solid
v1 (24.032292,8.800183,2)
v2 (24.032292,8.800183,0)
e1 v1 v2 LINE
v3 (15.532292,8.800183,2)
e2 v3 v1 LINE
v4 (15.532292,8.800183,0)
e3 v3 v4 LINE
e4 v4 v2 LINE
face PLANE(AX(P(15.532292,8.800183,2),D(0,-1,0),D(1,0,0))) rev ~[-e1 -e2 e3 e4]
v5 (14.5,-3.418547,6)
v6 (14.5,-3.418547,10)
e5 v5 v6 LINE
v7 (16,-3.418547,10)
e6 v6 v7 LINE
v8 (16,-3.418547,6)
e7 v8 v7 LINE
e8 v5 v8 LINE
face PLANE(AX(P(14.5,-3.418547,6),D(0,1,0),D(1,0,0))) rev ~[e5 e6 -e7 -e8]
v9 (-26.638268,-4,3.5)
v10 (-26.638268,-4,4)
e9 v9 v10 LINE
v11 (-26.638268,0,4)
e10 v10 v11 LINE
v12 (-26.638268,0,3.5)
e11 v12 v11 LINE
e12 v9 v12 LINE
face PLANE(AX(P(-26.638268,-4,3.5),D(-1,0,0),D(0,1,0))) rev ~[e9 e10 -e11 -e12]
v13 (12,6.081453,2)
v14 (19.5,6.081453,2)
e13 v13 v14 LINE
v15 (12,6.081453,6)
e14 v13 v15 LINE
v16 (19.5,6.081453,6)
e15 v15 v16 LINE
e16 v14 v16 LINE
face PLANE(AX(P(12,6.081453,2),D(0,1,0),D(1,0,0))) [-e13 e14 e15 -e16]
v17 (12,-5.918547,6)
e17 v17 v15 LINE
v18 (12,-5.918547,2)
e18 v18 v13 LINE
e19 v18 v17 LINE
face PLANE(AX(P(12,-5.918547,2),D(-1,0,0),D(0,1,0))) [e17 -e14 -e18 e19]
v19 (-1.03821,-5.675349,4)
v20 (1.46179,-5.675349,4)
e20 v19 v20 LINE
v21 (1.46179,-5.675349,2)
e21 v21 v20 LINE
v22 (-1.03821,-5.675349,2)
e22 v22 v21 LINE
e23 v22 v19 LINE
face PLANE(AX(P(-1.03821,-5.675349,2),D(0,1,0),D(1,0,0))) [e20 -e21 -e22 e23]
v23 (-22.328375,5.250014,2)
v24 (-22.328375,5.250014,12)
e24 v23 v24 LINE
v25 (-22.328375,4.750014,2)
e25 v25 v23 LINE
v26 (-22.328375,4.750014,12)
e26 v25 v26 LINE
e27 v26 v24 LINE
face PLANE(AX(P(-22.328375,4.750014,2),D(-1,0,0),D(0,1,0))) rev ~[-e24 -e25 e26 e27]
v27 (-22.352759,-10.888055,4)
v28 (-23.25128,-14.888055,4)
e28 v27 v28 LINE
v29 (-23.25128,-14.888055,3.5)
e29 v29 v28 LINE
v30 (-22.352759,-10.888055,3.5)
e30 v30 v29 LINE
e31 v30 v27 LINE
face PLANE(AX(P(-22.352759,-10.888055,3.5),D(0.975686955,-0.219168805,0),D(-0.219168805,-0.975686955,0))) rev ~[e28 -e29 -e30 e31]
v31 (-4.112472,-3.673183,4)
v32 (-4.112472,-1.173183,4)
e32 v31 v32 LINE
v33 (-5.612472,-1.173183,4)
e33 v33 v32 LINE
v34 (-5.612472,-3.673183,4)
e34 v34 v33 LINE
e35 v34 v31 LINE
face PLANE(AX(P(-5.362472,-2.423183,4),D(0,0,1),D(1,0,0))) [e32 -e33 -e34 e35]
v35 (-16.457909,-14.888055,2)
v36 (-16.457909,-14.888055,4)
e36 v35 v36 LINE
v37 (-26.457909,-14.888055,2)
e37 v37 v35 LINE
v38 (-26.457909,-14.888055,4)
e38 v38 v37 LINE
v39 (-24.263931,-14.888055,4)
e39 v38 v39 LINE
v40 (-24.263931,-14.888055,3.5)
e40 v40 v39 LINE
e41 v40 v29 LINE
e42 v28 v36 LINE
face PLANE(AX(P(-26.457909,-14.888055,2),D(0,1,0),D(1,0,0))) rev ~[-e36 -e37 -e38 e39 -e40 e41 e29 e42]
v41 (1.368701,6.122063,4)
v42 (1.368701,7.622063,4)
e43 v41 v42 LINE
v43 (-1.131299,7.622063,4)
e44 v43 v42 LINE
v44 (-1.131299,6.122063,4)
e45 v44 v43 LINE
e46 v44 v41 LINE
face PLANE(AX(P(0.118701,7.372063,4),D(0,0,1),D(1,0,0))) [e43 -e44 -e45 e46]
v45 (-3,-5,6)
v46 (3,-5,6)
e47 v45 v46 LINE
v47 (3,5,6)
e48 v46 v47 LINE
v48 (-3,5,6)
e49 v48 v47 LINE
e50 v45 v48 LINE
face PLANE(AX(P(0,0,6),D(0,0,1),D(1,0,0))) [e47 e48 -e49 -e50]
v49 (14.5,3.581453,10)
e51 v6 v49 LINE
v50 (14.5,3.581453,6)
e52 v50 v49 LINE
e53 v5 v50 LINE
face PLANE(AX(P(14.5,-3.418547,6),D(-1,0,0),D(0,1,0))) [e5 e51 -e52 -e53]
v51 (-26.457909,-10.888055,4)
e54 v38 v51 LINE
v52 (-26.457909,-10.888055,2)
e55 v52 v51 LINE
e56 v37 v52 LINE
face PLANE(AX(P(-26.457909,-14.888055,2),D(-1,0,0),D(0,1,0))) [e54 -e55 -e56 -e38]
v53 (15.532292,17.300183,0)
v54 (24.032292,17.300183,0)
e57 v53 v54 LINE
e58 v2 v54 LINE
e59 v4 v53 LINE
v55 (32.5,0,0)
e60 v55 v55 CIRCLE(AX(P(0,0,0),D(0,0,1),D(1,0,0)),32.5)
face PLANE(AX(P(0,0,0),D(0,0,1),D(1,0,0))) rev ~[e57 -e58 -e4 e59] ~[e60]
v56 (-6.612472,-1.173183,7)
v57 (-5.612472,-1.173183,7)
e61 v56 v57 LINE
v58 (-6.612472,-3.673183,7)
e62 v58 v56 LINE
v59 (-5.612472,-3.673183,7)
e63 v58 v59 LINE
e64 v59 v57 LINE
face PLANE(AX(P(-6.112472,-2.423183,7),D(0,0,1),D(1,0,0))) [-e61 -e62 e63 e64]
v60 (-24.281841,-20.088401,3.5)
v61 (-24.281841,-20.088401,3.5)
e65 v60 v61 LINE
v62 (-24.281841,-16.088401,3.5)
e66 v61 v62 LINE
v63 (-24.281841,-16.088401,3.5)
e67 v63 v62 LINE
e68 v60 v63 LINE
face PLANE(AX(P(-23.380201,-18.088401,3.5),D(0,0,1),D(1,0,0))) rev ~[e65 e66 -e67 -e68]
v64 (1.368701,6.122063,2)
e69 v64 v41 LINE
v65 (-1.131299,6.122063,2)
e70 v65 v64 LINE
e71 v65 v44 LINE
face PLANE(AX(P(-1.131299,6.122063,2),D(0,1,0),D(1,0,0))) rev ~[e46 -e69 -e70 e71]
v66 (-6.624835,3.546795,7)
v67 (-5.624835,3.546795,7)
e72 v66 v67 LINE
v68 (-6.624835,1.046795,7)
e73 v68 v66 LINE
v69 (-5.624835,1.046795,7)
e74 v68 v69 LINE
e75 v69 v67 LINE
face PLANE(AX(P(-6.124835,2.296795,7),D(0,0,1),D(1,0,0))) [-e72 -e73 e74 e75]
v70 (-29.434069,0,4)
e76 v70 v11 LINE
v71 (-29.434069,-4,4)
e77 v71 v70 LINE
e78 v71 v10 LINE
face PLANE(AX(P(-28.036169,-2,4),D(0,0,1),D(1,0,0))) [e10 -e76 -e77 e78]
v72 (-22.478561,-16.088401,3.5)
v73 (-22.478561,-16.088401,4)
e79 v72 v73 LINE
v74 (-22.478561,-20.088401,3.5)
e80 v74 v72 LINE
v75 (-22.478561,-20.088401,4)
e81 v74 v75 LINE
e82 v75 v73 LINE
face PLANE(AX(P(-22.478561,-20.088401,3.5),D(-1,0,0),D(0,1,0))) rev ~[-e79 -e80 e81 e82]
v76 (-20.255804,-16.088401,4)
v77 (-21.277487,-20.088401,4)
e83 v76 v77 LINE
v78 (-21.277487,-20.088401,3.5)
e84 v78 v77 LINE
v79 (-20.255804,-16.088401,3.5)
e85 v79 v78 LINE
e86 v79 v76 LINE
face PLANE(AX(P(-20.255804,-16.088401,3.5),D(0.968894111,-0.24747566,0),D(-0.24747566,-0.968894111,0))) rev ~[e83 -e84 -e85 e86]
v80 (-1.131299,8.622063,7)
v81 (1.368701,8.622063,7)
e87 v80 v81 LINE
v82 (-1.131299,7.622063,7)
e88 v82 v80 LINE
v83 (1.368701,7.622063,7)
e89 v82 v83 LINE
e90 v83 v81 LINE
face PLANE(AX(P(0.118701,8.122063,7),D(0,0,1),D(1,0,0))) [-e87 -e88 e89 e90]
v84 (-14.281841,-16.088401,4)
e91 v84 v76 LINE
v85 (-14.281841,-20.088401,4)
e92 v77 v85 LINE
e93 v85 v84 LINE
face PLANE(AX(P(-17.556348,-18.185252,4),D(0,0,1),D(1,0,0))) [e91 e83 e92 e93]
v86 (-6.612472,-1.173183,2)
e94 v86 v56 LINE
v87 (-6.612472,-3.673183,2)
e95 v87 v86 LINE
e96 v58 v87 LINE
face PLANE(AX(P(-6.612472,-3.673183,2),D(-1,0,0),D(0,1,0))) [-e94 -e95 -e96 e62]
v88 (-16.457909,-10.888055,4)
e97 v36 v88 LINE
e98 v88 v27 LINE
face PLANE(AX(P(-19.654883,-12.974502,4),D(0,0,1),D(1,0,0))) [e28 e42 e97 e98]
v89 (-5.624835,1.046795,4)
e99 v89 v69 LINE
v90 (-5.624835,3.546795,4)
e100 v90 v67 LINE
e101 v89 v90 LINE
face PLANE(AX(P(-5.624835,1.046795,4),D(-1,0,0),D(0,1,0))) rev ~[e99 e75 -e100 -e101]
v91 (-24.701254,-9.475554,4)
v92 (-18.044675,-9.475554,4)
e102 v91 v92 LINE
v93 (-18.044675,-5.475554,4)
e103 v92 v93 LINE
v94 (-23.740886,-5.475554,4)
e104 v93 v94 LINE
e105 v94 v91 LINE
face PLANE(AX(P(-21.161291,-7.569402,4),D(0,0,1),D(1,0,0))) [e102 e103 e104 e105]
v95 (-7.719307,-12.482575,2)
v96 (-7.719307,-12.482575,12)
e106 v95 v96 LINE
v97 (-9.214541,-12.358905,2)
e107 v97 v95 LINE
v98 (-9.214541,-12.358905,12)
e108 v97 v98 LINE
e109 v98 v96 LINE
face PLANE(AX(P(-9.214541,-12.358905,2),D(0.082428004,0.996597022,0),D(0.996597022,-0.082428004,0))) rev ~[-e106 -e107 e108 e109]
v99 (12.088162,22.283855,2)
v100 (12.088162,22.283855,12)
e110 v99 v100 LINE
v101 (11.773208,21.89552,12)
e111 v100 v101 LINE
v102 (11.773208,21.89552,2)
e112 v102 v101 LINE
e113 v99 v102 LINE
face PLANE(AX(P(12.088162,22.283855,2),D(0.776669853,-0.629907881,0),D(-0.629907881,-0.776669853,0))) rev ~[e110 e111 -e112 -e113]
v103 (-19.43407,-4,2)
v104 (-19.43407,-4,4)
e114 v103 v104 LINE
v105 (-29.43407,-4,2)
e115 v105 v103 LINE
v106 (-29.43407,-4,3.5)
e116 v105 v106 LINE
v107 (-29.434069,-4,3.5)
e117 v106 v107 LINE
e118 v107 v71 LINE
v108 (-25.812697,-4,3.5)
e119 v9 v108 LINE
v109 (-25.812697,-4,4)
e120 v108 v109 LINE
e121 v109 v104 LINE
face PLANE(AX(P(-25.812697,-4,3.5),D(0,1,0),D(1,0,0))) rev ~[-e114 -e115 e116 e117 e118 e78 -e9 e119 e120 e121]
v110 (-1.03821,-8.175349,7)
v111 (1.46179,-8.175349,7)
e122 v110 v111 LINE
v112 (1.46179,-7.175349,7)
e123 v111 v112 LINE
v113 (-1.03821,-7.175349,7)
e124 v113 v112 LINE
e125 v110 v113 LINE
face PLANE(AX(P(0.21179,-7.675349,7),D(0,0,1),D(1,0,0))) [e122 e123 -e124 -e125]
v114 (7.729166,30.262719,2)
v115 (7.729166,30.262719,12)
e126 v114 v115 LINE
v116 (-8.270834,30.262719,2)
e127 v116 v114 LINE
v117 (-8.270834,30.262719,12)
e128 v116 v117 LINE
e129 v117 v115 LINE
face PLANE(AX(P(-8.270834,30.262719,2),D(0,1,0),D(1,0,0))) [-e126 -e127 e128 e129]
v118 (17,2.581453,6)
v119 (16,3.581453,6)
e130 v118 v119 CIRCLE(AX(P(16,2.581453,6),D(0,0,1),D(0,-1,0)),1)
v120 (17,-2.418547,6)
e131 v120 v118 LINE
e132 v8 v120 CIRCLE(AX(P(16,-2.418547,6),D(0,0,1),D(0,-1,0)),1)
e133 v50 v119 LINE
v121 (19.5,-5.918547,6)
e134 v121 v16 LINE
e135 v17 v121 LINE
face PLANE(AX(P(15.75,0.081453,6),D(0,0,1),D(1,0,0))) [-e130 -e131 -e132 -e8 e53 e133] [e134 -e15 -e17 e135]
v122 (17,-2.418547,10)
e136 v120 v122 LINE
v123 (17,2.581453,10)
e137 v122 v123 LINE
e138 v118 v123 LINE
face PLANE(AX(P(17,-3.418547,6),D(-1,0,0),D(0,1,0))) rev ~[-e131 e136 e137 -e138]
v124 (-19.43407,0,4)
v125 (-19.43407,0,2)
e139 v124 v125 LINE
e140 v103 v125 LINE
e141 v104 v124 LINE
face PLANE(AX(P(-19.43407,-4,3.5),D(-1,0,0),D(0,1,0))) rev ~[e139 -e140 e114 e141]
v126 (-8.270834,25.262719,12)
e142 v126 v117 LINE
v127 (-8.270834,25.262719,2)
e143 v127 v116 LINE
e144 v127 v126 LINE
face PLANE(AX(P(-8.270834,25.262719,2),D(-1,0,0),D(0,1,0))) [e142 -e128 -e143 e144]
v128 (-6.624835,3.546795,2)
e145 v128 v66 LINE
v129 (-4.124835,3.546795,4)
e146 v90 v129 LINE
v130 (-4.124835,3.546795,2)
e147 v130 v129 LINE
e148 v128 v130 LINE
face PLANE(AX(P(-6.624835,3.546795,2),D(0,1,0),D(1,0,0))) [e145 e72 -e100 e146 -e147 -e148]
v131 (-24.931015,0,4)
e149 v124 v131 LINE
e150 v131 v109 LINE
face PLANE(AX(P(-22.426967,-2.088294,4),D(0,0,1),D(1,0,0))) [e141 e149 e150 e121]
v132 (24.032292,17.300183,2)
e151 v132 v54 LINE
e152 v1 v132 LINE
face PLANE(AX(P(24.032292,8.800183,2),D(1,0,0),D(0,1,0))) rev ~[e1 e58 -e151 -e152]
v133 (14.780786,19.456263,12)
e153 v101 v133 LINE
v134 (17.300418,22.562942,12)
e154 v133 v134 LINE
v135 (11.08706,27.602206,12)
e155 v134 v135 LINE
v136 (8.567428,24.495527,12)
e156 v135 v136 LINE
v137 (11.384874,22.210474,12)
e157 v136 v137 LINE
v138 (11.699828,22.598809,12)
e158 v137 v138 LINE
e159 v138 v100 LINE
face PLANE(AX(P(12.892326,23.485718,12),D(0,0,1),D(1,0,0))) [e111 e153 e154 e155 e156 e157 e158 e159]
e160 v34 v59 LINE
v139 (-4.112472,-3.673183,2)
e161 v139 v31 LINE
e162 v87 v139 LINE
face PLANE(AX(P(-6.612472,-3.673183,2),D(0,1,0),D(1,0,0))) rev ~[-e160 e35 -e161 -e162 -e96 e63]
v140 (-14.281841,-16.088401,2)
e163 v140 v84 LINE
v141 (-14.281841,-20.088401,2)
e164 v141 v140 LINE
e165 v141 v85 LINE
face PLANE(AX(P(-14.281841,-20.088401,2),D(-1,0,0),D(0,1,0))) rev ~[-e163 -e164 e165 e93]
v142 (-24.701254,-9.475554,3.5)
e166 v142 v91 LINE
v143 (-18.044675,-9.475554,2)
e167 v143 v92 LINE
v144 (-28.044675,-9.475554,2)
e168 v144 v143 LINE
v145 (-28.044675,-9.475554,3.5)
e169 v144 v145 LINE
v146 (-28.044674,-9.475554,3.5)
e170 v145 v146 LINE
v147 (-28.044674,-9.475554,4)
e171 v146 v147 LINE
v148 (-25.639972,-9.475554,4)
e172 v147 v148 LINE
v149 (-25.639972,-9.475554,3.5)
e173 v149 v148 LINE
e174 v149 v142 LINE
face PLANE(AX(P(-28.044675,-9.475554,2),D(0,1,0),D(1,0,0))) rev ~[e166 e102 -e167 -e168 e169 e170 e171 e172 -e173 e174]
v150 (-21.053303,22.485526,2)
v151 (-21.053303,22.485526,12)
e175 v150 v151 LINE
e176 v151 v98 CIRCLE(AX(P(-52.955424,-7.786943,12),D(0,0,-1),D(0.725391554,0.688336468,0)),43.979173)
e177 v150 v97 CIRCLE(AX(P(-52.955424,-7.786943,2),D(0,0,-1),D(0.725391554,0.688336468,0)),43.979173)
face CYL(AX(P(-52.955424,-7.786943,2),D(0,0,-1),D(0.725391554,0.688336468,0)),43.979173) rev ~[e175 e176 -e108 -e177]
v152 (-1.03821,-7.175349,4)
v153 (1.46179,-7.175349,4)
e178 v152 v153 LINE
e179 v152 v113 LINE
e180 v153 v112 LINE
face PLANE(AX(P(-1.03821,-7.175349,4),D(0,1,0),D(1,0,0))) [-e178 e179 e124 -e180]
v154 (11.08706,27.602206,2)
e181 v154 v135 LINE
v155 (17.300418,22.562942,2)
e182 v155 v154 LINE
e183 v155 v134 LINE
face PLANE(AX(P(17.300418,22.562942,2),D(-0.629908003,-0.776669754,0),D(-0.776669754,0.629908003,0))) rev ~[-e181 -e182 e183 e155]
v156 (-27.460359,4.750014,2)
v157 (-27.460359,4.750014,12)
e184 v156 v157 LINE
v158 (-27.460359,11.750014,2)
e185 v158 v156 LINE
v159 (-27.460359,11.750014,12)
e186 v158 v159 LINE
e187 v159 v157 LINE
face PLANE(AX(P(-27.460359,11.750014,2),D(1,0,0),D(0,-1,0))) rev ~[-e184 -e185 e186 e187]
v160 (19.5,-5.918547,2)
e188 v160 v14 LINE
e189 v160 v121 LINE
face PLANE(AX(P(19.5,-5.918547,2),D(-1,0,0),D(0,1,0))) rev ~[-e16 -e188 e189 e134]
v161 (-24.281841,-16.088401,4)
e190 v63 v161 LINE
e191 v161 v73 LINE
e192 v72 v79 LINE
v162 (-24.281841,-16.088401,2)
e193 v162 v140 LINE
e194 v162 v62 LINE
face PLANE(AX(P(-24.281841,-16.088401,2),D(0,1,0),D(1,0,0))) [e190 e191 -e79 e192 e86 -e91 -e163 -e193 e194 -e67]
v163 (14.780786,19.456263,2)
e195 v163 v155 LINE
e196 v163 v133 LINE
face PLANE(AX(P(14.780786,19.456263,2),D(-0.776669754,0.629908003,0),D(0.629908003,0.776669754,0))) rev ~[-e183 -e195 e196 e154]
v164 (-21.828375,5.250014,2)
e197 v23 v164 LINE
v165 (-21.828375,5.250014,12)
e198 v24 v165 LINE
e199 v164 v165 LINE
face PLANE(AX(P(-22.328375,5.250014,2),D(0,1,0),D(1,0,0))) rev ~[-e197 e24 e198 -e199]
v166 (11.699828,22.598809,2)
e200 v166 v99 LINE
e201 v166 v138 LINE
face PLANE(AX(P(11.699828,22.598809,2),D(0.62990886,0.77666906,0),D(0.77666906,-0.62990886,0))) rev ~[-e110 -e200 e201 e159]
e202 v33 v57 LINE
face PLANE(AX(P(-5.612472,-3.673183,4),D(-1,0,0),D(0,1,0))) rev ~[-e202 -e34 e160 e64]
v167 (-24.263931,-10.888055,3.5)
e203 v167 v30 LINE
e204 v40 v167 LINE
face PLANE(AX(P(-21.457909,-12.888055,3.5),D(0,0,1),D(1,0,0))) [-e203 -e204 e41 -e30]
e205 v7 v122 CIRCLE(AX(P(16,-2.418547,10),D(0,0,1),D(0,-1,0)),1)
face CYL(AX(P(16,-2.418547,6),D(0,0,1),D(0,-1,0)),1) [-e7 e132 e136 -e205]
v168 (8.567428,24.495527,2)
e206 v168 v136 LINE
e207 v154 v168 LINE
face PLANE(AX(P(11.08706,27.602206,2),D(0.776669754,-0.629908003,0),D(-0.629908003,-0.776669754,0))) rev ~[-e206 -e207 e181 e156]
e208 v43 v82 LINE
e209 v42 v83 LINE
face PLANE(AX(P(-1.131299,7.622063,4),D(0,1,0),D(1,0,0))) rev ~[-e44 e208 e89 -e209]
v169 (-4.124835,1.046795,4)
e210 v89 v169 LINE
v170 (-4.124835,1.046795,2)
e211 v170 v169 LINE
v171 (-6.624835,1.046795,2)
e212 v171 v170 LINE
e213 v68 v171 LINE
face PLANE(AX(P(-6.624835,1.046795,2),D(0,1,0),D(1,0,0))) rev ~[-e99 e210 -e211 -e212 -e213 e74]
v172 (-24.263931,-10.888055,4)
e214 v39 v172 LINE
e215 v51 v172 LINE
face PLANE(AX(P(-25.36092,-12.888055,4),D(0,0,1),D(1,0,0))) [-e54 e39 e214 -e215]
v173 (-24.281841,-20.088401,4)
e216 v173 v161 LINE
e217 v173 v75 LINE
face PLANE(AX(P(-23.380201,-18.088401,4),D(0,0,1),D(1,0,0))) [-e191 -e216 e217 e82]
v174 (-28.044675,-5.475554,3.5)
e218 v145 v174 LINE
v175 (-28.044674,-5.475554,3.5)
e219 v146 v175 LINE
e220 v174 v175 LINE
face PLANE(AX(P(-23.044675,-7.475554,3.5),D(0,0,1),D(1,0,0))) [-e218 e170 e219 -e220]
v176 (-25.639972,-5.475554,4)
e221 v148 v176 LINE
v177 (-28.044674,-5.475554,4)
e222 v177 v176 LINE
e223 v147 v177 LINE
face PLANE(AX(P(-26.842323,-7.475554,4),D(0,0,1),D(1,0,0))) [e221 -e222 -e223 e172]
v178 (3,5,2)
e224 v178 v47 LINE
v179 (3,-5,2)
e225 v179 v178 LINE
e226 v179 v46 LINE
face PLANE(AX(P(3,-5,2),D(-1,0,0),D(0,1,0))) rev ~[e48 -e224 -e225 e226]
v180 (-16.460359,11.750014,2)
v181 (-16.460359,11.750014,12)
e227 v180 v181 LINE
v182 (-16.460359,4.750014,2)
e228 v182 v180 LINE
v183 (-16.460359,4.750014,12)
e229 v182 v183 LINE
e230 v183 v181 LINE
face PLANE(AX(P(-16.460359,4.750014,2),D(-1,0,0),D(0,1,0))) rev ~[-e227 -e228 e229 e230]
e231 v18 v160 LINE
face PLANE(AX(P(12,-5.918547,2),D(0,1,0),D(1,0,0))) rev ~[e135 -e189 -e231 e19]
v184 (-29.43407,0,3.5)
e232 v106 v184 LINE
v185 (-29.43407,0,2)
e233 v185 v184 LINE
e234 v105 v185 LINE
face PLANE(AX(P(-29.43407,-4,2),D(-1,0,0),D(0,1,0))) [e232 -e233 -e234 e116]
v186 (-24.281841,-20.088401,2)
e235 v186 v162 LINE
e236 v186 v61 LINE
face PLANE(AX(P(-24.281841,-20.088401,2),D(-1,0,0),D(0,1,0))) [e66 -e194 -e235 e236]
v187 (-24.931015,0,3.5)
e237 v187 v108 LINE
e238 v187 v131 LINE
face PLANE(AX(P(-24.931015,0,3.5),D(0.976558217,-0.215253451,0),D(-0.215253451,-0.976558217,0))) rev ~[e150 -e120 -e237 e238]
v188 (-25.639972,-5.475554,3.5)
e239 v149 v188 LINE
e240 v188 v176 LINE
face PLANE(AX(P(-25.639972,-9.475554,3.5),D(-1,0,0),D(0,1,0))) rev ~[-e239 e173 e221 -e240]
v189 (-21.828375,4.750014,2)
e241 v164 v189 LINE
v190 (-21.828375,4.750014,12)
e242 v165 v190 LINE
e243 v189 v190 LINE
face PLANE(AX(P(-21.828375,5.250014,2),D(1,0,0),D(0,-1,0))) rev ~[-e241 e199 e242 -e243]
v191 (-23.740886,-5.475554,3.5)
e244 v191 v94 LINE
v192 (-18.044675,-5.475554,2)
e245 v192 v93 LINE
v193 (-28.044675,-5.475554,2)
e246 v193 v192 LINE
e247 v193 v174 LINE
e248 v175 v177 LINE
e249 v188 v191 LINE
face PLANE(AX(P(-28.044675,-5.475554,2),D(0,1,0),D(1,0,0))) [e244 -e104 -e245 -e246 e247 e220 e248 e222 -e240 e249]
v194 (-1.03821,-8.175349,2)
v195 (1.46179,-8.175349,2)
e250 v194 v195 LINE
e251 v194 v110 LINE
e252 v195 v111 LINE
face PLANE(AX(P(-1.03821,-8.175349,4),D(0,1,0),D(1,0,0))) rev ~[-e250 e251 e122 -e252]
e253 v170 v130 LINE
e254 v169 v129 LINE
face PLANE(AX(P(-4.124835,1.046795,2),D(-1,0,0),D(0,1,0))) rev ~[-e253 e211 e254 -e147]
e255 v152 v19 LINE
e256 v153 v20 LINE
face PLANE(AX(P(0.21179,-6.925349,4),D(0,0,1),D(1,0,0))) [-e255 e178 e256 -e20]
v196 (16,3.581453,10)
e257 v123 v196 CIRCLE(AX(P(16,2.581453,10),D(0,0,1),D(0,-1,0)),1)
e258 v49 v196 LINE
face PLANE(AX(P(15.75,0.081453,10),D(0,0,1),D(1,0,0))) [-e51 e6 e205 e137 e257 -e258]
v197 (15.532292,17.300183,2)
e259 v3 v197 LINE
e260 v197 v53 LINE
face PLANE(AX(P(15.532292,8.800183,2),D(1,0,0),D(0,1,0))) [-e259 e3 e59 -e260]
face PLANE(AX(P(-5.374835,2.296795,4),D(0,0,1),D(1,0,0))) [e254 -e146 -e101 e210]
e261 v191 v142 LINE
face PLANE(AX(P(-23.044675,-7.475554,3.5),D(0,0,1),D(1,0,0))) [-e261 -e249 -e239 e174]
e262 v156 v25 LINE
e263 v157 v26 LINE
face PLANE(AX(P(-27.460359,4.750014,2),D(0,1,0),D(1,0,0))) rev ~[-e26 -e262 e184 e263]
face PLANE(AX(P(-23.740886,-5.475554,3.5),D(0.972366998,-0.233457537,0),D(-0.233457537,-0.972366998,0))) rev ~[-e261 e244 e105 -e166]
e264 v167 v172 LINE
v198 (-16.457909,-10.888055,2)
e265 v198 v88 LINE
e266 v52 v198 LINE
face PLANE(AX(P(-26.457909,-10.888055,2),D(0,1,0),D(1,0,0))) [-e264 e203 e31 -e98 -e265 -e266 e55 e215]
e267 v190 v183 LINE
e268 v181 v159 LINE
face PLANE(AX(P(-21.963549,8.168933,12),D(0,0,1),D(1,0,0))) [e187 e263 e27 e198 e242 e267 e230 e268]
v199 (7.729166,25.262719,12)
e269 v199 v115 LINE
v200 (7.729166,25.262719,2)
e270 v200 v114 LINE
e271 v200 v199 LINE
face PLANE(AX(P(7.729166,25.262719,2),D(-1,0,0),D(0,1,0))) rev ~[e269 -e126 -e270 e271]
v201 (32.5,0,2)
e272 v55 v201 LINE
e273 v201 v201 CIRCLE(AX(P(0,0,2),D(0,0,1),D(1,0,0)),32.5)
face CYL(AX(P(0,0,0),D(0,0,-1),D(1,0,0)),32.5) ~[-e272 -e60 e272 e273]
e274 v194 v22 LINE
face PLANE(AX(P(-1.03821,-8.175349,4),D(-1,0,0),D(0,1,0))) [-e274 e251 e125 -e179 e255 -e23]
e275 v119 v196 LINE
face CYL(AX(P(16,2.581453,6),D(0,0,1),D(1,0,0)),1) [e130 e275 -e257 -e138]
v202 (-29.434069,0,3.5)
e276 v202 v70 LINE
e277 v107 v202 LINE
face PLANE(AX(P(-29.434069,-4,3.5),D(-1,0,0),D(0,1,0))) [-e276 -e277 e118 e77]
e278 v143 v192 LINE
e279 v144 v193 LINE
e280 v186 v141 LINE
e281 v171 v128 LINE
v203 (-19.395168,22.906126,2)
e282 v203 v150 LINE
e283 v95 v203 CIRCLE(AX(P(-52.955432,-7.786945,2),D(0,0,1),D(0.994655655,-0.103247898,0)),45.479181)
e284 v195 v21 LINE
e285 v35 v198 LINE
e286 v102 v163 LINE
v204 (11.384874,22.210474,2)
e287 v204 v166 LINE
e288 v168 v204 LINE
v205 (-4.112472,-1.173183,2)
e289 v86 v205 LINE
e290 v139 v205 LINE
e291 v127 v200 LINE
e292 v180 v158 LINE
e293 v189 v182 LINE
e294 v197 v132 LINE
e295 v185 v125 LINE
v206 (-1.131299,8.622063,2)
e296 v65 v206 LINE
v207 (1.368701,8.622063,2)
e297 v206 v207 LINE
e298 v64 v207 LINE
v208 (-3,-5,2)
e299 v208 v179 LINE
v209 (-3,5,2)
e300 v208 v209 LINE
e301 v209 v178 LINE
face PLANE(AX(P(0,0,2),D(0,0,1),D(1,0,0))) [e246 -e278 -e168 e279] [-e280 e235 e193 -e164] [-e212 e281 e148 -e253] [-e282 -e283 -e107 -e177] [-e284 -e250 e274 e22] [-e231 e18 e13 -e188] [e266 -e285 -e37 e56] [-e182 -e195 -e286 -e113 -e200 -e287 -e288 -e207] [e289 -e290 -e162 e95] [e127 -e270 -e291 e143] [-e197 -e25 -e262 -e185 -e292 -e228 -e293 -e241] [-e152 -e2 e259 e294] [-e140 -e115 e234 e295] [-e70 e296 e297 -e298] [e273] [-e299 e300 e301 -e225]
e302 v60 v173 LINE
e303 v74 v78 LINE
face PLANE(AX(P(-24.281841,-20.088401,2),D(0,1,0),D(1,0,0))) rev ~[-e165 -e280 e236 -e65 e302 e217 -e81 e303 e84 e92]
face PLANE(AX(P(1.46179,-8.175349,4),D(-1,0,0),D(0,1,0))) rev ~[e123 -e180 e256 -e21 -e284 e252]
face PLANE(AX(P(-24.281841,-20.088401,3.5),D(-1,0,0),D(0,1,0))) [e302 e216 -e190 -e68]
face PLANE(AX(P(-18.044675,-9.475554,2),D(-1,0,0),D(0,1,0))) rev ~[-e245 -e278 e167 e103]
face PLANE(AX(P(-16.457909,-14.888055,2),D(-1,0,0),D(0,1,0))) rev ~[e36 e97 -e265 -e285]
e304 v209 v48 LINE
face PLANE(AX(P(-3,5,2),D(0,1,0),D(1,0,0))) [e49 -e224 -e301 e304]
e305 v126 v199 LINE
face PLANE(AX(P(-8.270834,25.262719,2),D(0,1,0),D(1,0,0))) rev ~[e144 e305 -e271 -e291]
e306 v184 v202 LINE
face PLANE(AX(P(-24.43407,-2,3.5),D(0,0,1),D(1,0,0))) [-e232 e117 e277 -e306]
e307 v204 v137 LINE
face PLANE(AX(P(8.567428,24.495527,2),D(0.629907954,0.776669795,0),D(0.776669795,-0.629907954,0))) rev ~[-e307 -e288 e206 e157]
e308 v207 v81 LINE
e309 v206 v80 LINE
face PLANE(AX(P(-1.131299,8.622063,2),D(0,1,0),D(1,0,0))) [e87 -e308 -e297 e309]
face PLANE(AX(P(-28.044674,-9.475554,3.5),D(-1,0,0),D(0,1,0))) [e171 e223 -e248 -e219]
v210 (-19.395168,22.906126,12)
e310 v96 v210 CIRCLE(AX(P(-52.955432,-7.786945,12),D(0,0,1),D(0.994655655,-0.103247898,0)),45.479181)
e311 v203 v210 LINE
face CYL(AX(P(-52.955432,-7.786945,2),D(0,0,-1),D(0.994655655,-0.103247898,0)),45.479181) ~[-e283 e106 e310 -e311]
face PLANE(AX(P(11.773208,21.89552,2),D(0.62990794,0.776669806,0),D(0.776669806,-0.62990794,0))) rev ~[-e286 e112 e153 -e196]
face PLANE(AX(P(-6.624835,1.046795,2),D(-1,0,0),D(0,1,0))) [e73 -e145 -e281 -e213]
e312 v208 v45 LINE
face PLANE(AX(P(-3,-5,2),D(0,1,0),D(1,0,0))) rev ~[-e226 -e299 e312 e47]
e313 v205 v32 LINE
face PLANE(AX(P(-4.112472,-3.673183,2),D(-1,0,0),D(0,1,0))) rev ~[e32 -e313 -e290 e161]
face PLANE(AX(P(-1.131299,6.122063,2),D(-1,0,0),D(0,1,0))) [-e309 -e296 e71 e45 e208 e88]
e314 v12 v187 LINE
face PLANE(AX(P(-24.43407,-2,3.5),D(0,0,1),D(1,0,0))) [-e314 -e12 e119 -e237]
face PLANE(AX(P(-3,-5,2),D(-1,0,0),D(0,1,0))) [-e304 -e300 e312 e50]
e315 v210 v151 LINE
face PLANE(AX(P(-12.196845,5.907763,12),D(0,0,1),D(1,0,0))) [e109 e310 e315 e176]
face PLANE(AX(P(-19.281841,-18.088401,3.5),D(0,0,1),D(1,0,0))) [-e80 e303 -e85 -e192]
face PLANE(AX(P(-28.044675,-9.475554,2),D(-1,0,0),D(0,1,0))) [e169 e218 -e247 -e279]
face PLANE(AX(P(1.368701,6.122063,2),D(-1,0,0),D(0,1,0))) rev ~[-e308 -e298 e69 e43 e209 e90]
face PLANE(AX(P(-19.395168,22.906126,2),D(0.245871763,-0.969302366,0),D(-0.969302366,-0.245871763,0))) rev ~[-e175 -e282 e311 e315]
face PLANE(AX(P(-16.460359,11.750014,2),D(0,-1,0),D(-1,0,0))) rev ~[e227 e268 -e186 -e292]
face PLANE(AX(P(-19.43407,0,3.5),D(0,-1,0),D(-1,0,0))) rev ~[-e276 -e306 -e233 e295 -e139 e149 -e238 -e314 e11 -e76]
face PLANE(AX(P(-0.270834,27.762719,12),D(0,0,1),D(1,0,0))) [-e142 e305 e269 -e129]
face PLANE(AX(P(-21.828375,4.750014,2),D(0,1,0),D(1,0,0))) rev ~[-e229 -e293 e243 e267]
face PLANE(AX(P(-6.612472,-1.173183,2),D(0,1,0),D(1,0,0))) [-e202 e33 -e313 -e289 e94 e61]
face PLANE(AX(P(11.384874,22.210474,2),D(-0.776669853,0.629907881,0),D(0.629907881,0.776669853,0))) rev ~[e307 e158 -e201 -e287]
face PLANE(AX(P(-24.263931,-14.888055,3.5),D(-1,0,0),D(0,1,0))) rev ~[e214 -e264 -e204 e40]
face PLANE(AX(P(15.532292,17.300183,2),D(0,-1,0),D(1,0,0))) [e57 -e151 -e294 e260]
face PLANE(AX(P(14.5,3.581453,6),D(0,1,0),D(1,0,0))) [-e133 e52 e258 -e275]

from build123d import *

# Parameters (mm, degrees)
F0_R      = 32.5
F1_DEPTH  = 2
F2_W      = 16
F2_H      = 5
F3_DEPTH  = 10
F4_W      = 6
F4_H      = 10
F4_W_2    = 7.5
F4_H_2    = 12
F5_DEPTH  = 4
F6_W      = 2.5
F6_H      = 7
F7_DEPTH  = 4
F8_R      = 1
F9_W      = 2.5
F9_H      = 2.5
F10_DEPTH = 2
F11_W     = 2.5
F11_H     = 1
F11_W_2   = 1
F11_H_2   = 2.5
F12_DEPTH = 3
F13_W     = 8.5
F13_H     = 8.5
F14_DEPTH = 25
F15_W     = 10
F15_H     = 4
F16_DEPTH = 1.5
F17_W     = 2.795801
F17_H     = 4
F17_W_2   = 2.404703
F17_W_3   = 2.193978
F17_W_4   = 1.803281
F18_DEPTH = 0.5


with BuildPart() as f1:
    # F0 (on Top) → F1 (new body)
    with BuildSketch(Plane.XY):
        Circle(F0_R)
    extrude(amount=F1_DEPTH)

    # F2 (on face) → F3 (join)
    with BuildSketch(Plane.XY.offset(2)):
        with Locations((-0.270834, 27.762719)):
            Rectangle(F2_W, F2_H)
        Polygon((17.300418, 22.562942), (11.08706, 27.602206), (8.567428, 24.495527), (11.384874, 22.210474), (11.699828, 22.598809), (12.088162, 22.283855), (11.773208, 21.89552), (14.780786, 19.456263), align=None)
        Polygon((-16.460359, 11.750014), (-27.460359, 11.750014), (-27.460359, 4.750014), (-22.328375, 4.750014), (-22.328375, 5.250014), (-21.828375, 5.250014), (-21.828375, 4.750014), (-16.460359, 4.750014), align=None)
        with BuildLine():
            Line((-9.214541, -12.358905), (-7.719307, -12.482575))
            ThreePointArc((-7.719307, -12.482575), (-9.766223, 6.462552), (-19.395168, 22.906126))
            Line((-19.395168, 22.906126), (-21.053303, 22.485526))
            ThreePointArc((-21.053303, 22.485526), (-11.314103, 6.361134), (-9.214541, -12.358905))
        make_face()
    extrude(amount=F3_DEPTH)

    # F4 (on face) → F5 (join)
    with BuildSketch(Plane.XY.offset(2)):
        Rectangle(F4_W, F4_H)
        with Locations((15.75, 0.081453)):
            Rectangle(F4_W_2, F4_H_2)
    extrude(amount=F5_DEPTH)

    # F6 (on face) → F7 (join)
    with BuildSketch(Plane.XY.offset(6)):
        with Locations((15.75, 0.081453)):
            Rectangle(F6_W, F6_H)
    extrude(amount=F7_DEPTH)

    # F8
    f8_edges = [f1.edges().sort_by_distance(p)[0] for p in [
        (17, -3.418547, 8),
        (17, 3.581453, 8),
    ]]
    fillet(f8_edges, radius=F8_R)

    # F9 (on face) → F10 (join)
    with BuildSketch(Plane.XY.offset(2)):
        with Locations((-5.362472, -2.423183)):
            Rectangle(F9_W, F9_H)
        with Locations((-5.374835, 2.296795)):
            Rectangle(F9_W, F9_H)
        with Locations((0.118701, 7.372063)):
            Rectangle(F9_W, F9_H)
        with Locations((0.21179, -6.925349)):
            Rectangle(F9_W, F9_H)
    extrude(amount=F10_DEPTH)

    # F11 (on face) → F12 (join)
    with BuildSketch(Plane.XY.offset(4)):
        with Locations((0.21179, -7.675349)):
            Rectangle(F11_W, F11_H)
        with Locations((-6.124835, 2.296795)):
            Rectangle(F11_W_2, F11_H_2)
        with Locations((-6.112472, -2.423183)):
            Rectangle(F11_W_2, F11_H_2)
        with Locations((0.118701, 8.122063)):
            Rectangle(F11_W, F11_H)
    extrude(amount=F12_DEPTH)

    # F13 (on face) → F14 (cut)
    with BuildSketch(Plane.XY.offset(2)):
        with Locations((19.782292, 13.050183)):
            Rectangle(F13_W, F13_H)
    extrude(amount=-F14_DEPTH, mode=Mode.SUBTRACT)

    # F15 (on face) → F16 (join)
    with BuildSketch(Plane.XY.offset(2)):
        with Locations((-24.43407, -2)):
            Rectangle(F15_W, F15_H)
        with Locations((-23.044675, -7.475554)):
            Rectangle(F15_W, F15_H)
        with Locations((-21.457909, -12.888055)):
            Rectangle(F15_W, F15_H)
        with Locations((-19.281841, -18.088401)):
            Rectangle(F15_W, F15_H)
    extrude(amount=F16_DEPTH)

    # F17 (on face) → F18 (join)
    with BuildSketch(Plane.XY.offset(3.5)):
        with Locations((-28.036169, -2)):
            Rectangle(F17_W, F17_H)
        Polygon((-24.931015, 0), (-25.812697, -4), (-19.43407, -4), (-19.43407, 0), align=None)
        with Locations((-26.842323, -7.475554)):
            Rectangle(F17_W_2, F17_H)
        Polygon((-23.740886, -5.475554), (-24.701254, -9.475554), (-18.044675, -9.475554), (-18.044675, -5.475554), align=None)
        with Locations((-25.36092, -12.888055)):
            Rectangle(F17_W_3, F17_H)
        Polygon((-22.352759, -10.888055), (-23.25128, -14.888055), (-16.457909, -14.888055), (-16.457909, -10.888055), align=None)
        with Locations((-23.380201, -18.088401)):
            Rectangle(F17_W_4, F17_H)
        Polygon((-14.281841, -16.088401), (-20.255804, -16.088401), (-21.277487, -20.088401), (-14.281841, -20.088401), align=None)
    extrude(amount=F18_DEPTH)


solid = f1.part
